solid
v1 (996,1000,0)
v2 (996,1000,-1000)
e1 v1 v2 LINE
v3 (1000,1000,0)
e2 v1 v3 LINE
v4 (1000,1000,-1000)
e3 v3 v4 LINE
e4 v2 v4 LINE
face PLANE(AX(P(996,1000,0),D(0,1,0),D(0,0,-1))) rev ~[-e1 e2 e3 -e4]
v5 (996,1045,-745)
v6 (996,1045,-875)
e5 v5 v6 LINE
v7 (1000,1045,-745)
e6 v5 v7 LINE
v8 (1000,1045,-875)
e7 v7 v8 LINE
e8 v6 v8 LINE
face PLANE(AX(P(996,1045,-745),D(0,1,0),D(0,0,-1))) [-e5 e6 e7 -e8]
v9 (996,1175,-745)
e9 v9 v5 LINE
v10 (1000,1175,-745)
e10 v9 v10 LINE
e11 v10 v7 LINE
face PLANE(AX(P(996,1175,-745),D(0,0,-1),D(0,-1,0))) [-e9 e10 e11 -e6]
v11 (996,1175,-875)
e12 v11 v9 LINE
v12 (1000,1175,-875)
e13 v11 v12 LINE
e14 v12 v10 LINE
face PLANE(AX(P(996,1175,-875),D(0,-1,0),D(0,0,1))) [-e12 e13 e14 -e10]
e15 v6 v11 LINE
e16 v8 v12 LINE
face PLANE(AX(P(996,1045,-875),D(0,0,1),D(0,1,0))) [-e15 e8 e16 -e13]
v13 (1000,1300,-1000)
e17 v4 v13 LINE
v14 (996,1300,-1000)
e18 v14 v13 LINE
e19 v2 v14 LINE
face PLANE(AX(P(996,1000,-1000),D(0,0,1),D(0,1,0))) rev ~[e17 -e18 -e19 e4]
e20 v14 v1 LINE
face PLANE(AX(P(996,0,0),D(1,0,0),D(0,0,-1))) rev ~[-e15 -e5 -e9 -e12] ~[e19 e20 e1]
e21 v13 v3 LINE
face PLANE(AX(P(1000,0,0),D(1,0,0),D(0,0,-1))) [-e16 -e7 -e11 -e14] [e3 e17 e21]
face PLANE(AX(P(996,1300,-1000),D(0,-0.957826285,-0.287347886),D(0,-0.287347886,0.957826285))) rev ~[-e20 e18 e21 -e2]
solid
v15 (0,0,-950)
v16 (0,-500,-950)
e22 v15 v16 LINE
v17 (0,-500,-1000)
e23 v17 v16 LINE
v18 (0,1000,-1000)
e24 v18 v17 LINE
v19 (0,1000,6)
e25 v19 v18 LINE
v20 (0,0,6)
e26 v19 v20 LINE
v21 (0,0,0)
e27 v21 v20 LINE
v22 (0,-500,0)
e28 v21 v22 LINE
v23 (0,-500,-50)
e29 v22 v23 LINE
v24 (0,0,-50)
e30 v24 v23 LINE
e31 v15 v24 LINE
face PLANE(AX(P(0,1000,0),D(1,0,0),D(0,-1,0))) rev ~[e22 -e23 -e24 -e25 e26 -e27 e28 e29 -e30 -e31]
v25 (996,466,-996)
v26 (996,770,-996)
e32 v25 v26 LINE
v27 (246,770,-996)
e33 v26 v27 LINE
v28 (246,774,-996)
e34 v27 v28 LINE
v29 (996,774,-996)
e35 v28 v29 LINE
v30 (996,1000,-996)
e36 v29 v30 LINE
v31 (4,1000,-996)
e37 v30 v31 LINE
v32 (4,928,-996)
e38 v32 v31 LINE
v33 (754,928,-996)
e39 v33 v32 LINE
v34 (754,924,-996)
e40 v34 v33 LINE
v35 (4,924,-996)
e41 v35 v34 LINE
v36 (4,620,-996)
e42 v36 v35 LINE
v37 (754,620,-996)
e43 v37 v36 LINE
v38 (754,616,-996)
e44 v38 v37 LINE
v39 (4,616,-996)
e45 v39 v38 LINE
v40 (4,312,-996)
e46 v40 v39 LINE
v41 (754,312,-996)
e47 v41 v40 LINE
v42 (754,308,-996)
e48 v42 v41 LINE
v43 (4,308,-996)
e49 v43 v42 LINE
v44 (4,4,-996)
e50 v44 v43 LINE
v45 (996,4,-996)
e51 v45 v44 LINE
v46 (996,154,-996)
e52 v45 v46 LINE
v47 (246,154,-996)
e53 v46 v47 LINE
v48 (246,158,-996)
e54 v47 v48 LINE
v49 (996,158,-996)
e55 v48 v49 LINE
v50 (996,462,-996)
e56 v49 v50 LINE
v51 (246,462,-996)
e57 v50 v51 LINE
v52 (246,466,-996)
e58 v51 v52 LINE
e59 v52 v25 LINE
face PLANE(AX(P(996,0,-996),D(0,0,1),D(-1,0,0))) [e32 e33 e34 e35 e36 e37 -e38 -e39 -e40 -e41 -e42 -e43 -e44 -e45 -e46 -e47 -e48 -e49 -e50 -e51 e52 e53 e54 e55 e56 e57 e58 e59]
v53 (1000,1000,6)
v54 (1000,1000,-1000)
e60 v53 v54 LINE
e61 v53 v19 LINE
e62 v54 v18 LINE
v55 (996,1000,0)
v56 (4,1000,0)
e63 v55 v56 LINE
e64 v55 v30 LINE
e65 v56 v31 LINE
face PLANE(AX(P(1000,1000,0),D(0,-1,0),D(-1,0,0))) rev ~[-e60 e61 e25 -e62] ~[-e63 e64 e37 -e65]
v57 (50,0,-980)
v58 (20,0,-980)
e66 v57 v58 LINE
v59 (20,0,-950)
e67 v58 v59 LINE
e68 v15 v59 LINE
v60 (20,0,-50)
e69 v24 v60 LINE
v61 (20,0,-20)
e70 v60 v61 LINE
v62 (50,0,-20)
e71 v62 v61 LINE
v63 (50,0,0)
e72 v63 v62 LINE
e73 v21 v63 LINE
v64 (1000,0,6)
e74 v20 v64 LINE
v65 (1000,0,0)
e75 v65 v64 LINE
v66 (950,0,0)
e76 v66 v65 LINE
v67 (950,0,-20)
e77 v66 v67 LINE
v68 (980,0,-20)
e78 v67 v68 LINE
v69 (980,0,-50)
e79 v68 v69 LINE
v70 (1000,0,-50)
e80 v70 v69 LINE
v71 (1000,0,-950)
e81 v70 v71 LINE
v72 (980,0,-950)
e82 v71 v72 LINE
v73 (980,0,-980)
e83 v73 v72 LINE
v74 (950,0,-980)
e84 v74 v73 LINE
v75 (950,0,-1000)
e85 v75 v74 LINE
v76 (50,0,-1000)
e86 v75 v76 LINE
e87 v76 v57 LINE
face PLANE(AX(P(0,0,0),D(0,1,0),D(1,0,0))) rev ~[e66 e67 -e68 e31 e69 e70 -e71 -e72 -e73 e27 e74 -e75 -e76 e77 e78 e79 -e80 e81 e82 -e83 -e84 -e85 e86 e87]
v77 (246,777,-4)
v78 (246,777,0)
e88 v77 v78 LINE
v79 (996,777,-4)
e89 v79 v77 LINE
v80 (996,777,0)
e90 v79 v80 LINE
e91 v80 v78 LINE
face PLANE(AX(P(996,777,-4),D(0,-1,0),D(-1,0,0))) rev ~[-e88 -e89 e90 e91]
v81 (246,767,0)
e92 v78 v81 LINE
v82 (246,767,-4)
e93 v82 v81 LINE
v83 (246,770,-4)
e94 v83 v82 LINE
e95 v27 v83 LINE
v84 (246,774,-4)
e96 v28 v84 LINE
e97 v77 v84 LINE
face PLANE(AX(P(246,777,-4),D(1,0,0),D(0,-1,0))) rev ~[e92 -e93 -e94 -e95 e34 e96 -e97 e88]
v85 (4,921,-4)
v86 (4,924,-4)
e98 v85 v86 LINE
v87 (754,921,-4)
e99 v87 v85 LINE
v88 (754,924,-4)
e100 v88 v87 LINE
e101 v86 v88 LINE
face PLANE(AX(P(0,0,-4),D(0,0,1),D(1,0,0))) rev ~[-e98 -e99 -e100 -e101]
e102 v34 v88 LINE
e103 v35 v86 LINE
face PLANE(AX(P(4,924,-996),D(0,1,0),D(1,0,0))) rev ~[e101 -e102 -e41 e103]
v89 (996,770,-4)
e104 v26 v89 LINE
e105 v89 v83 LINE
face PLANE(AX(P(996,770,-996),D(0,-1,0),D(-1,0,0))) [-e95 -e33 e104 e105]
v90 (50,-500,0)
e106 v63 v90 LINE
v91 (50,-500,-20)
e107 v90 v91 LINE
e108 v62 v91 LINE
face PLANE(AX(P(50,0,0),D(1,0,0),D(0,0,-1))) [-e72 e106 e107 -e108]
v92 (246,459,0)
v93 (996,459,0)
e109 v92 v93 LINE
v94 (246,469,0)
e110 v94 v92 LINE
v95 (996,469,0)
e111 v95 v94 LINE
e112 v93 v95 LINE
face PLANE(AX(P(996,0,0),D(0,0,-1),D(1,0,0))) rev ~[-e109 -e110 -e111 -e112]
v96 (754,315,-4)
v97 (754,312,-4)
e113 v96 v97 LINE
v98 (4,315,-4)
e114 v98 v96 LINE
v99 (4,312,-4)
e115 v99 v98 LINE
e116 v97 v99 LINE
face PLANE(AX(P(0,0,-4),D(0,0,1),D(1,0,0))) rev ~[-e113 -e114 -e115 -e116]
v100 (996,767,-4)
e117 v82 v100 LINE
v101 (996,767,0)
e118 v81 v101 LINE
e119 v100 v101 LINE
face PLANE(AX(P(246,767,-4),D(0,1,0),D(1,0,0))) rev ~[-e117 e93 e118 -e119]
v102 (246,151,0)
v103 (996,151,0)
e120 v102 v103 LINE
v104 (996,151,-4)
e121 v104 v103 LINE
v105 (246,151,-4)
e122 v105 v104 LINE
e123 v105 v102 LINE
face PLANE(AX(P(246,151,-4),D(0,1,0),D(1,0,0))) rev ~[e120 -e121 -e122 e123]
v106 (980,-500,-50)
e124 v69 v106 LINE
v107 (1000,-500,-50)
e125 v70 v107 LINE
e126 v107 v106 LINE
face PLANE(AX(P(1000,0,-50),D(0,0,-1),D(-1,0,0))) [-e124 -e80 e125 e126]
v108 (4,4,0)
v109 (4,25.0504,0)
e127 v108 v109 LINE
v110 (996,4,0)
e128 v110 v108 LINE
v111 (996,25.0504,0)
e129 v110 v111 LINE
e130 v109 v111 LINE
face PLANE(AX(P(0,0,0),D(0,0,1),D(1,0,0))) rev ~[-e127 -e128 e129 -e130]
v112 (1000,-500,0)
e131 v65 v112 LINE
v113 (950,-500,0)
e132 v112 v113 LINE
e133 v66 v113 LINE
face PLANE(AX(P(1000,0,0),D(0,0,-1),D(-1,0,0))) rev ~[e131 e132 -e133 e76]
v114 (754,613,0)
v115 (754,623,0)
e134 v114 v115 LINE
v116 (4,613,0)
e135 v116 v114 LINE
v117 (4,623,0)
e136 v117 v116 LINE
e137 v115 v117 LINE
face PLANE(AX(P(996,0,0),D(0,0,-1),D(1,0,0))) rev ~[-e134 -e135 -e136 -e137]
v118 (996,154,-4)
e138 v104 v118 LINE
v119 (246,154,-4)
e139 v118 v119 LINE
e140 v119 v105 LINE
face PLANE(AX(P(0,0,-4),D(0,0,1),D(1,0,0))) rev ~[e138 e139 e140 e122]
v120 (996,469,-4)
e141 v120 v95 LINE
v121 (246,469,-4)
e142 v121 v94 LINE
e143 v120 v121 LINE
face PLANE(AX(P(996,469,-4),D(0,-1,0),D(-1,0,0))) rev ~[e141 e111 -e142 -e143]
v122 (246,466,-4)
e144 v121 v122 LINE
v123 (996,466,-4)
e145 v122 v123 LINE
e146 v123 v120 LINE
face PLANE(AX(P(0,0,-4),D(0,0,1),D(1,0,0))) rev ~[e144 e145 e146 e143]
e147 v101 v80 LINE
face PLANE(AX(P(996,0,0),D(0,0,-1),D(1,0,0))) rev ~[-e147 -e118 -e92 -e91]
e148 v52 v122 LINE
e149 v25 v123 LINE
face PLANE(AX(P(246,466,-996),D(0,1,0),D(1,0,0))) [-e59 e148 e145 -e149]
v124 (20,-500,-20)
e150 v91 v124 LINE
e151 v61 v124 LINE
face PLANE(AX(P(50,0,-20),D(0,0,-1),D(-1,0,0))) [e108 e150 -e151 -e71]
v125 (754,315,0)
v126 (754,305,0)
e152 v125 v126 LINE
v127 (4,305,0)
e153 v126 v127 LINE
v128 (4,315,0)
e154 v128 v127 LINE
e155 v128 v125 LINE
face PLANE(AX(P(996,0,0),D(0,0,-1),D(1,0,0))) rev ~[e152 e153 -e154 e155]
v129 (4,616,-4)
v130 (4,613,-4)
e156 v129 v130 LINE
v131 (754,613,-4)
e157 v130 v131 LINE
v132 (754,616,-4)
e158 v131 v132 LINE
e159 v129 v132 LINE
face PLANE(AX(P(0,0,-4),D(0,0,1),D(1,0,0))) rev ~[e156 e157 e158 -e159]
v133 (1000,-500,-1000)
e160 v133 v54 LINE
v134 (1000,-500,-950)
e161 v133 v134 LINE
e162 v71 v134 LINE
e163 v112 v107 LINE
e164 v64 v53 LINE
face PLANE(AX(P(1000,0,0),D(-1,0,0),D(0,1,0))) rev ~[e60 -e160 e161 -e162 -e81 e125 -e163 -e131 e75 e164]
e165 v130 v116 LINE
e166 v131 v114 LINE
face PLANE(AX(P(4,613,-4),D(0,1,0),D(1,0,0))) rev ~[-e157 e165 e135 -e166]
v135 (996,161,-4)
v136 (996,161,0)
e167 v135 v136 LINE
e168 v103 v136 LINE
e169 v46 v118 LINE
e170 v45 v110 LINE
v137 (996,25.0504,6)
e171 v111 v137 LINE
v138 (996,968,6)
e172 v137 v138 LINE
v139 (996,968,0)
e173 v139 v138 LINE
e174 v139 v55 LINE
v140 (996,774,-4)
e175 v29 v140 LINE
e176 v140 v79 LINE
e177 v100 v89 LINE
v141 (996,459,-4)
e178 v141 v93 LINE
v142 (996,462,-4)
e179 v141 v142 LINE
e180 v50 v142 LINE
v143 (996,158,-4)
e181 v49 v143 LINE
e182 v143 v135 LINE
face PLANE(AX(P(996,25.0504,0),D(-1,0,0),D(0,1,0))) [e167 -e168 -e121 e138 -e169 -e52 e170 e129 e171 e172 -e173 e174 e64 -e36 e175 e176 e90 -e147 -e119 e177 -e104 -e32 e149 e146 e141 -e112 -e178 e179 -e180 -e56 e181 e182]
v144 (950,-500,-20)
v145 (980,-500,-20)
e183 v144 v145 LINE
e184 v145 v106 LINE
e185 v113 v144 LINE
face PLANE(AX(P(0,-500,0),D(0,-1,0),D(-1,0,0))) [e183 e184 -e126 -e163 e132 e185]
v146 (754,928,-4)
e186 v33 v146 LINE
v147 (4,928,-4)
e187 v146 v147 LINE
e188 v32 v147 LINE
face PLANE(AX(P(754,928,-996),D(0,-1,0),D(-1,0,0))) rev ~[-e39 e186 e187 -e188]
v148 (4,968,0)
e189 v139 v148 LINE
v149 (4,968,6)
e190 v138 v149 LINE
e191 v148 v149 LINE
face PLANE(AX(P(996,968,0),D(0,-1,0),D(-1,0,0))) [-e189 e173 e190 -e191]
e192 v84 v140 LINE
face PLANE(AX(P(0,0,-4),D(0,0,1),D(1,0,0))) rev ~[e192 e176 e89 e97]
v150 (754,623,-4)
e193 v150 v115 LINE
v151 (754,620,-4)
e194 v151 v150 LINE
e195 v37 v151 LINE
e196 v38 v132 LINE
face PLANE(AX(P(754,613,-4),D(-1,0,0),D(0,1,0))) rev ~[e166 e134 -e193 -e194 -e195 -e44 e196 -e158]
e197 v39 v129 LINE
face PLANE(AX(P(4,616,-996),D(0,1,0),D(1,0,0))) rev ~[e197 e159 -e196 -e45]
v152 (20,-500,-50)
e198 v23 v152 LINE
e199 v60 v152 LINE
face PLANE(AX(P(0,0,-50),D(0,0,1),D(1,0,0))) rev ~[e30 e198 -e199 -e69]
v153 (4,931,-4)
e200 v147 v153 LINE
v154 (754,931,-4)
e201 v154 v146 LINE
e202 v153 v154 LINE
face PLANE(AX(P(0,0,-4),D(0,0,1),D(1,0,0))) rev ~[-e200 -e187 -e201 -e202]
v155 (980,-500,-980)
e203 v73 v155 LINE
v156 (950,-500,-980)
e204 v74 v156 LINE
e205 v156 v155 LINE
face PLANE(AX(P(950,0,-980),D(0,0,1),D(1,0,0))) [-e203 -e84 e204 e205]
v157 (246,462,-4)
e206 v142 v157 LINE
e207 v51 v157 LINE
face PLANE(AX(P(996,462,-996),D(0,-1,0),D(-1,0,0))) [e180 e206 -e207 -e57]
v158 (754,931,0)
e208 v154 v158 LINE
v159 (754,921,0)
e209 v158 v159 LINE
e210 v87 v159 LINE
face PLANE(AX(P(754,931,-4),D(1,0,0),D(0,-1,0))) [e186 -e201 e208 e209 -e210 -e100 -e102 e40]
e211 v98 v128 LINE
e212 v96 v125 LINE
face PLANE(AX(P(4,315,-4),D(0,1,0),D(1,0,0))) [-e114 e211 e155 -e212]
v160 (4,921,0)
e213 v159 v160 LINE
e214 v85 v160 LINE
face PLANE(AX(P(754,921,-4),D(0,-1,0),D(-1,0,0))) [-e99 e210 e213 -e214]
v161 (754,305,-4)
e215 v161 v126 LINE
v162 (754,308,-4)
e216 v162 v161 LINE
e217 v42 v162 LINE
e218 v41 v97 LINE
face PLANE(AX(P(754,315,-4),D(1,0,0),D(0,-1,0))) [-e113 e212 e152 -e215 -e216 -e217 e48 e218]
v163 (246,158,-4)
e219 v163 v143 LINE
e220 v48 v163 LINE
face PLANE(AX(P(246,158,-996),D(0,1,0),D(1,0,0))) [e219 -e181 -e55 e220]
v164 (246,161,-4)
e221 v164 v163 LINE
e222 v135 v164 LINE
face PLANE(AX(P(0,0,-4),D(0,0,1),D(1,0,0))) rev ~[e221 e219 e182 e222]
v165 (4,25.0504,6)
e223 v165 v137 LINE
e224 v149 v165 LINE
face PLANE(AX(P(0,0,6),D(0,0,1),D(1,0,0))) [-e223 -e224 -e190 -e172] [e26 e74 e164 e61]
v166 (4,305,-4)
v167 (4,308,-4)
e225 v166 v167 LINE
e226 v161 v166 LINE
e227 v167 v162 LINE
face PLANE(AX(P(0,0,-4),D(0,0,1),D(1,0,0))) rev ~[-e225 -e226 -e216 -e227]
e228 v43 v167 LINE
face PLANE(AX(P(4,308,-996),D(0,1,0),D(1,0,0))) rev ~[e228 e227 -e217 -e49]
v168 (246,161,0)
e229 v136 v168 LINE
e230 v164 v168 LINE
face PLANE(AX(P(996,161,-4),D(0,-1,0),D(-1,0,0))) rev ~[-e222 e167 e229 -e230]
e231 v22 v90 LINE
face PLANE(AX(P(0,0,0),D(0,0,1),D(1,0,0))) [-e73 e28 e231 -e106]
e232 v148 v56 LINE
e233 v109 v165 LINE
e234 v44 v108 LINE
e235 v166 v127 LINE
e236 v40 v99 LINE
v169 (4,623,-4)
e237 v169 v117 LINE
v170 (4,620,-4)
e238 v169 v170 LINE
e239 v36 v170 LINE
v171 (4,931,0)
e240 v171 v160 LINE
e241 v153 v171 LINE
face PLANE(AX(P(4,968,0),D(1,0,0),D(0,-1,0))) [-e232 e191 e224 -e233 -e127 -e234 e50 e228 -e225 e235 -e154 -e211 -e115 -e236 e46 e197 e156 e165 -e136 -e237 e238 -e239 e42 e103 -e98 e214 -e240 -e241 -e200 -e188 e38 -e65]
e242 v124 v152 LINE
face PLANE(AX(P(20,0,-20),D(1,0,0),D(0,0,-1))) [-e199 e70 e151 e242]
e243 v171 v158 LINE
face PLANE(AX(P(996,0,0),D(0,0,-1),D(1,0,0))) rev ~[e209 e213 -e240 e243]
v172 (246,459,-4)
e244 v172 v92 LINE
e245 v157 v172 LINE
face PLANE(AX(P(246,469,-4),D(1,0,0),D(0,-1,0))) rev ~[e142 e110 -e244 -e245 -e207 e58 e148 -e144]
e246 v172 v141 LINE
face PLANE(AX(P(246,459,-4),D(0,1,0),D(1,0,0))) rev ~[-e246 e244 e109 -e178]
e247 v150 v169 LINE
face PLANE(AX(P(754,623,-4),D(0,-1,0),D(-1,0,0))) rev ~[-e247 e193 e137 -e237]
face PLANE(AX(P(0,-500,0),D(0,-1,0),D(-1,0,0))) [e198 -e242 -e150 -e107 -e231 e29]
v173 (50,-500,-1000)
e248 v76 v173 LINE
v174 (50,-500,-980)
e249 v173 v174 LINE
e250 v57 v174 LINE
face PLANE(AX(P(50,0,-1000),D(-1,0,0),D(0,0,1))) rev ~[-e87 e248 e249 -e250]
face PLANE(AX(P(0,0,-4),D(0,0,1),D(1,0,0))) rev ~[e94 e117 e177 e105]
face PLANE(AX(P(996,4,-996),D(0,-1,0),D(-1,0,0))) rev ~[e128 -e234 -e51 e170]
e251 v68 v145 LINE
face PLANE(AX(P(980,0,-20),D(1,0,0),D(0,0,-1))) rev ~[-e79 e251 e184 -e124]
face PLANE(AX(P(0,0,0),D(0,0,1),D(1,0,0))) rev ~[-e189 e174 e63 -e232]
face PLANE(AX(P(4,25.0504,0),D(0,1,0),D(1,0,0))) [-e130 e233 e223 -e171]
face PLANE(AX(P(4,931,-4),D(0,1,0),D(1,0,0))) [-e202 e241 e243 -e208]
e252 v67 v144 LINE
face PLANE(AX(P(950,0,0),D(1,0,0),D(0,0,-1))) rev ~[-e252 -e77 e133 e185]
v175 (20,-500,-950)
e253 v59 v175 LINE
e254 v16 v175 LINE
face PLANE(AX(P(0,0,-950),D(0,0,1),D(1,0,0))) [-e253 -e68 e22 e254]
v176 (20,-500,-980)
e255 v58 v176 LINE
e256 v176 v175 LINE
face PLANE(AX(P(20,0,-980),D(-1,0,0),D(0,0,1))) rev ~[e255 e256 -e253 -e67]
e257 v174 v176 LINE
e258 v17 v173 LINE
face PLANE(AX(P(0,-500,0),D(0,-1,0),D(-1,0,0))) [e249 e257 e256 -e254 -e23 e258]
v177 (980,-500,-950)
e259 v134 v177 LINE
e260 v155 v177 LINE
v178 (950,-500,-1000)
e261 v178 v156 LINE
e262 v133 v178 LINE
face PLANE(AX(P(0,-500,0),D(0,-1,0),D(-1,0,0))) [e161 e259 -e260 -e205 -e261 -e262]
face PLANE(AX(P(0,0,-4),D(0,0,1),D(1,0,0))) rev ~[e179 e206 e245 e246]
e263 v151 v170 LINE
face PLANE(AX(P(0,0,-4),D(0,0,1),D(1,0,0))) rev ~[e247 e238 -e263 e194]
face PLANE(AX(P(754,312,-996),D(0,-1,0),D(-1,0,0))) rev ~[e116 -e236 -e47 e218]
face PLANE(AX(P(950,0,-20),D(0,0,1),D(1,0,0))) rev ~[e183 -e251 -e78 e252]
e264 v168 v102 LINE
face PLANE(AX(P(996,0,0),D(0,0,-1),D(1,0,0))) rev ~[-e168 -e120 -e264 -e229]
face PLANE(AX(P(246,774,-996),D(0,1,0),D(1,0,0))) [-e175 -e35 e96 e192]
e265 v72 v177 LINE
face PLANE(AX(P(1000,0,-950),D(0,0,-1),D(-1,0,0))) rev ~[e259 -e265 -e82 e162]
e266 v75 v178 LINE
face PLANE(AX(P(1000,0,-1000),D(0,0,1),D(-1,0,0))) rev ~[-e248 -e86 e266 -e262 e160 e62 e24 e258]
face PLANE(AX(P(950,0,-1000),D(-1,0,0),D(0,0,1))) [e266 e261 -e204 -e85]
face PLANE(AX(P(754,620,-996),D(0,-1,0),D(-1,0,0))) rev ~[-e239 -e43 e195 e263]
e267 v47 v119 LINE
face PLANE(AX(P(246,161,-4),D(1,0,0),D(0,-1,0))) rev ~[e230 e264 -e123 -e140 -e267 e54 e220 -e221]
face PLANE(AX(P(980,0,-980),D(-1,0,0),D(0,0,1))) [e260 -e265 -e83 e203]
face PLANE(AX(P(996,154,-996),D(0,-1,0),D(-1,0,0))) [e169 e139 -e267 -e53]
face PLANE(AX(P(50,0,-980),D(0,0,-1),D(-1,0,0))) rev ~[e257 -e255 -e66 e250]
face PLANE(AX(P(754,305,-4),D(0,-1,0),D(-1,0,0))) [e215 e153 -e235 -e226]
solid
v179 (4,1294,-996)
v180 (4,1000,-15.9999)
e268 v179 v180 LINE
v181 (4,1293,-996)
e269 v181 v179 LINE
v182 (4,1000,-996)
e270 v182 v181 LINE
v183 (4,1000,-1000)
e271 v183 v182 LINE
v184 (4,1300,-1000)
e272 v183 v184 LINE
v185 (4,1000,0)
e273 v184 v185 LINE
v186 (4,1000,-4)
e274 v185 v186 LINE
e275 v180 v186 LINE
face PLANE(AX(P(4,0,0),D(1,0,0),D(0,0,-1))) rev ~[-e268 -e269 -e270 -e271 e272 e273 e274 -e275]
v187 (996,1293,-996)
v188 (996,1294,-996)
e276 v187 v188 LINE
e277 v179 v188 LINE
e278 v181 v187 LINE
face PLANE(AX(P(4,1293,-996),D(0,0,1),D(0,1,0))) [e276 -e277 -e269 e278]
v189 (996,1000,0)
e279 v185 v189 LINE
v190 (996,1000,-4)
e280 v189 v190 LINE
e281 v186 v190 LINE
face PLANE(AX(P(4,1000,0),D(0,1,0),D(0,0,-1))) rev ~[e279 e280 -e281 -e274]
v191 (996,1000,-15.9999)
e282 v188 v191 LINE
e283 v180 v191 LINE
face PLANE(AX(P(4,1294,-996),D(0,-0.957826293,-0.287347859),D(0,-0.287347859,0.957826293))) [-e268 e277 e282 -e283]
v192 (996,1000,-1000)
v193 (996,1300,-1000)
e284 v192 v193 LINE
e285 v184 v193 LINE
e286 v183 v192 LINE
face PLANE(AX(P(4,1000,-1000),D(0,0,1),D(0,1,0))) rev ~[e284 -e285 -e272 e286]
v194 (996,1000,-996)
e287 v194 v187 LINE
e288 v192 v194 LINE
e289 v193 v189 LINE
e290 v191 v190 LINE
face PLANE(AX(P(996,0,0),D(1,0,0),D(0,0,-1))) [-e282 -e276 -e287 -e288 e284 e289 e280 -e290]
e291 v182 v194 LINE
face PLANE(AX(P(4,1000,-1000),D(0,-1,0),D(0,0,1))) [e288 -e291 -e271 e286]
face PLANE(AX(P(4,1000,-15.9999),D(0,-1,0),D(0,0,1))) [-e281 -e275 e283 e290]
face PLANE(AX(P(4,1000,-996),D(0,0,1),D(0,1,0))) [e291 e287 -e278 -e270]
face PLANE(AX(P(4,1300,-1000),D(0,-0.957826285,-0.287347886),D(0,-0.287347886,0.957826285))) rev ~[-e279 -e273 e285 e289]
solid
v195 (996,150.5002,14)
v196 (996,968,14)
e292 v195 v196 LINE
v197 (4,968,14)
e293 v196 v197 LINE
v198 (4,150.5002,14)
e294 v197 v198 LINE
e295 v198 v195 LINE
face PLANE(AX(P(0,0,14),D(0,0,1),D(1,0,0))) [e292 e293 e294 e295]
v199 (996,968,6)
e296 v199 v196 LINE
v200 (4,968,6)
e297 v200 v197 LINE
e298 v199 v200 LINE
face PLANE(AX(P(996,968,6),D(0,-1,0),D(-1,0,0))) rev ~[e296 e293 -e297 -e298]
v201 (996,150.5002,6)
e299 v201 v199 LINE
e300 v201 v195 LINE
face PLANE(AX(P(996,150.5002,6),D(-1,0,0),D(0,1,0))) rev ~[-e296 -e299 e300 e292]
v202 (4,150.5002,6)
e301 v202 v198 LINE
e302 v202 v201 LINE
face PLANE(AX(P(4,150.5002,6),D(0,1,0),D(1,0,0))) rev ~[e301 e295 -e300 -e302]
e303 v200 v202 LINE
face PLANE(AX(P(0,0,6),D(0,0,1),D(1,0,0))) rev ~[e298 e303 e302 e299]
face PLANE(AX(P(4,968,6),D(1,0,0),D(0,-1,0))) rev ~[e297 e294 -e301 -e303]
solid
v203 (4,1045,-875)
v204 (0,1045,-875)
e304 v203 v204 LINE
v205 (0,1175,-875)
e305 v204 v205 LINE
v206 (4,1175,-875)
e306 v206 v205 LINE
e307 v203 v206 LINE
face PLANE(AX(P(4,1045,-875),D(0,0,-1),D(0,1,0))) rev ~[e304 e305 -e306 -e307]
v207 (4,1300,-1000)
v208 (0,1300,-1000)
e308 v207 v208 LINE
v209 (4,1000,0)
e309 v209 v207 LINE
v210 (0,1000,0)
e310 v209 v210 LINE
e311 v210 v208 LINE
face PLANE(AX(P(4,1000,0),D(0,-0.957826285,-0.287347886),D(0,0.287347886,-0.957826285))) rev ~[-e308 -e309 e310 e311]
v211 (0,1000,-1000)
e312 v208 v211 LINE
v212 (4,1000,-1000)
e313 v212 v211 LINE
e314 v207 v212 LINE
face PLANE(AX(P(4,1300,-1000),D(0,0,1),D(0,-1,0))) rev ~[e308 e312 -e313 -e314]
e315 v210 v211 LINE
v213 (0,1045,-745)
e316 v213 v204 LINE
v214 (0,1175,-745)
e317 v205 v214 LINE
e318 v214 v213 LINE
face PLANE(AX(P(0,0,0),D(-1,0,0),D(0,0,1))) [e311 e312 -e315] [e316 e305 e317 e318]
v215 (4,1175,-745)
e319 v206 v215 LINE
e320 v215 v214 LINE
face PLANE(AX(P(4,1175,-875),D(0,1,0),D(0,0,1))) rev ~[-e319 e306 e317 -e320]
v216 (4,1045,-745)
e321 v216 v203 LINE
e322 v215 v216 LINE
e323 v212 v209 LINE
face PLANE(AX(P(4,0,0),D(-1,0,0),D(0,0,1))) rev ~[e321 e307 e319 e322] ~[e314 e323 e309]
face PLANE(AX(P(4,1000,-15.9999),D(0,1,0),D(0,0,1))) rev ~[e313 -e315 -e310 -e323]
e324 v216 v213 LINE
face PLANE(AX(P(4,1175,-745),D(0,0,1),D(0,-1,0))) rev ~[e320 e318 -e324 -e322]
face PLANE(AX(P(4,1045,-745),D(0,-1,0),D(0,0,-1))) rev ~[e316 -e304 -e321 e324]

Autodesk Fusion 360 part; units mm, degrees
sketch "Sketch1" plane through (0, 0, 0) normal (0, 1, 0) x (1, 0, 0)
  line L0 (1000, 0) -> (1000, 1000)
  line L1 (1000, 1000) -> (0, 1000)
  line L2 (0, 1000) -> (0, 0)
  line L3 (996, 4) -> (996, 996)
  line L4 (996, 996) -> (4, 996)
  line L5 (4, 996) -> (4, 4)
  line L6 (996, 4) -> (996, 0)
  line L7 (996, 0) -> (1000, 0)
  line L8 (4, 4) -> (4, 0)
  line L9 (4, 0) -> (0, 0)
  dimension "d1" = 1000
  dimension "d2" = 1000
  dimension "d3" = 992
  dimension "d4" = 992
extrude "Extrude1" add sketch "Sketch1" along normal blind 1000 makes body 1
ref_plane "WorkPlane1" through (500, 500, -996) normal (0, 0, 1) x (1, 0, 0)
sketch "Sketch2" plane through (0, 0, -996) normal (0, 0, 1) x (1, 0, 0)
  line L0 (4, 0) -> (996, 0)
  line L1 (996, 0) -> (996, 4)
  line L2 (996, 4) -> (4, 4)
  line L3 (4, 4) -> (4, 0)
  dimension "d8" = 992
  dimension "d9" = 4
extrude "Extrude2" add sketch "Sketch2" along normal blind 996 bodies 1
ref_plane "WorkPlane2" through (500, 502, -996) normal (0, 0, 1) x (1, 0, 0)
sketch "Sketch3" plane through (0, 0, -996) normal (0, 0, 1) x (1, 0, 0)
  line L0 (4, 312) -> (4, 308)
  line L1 (996, 154) -> (246, 154)
  line L2 (246, 154) -> (246, 158)
  line L3 (246, 158) -> (996, 158)
  line L4 (996, 158) -> (996, 154)
  line L5 (754, 308) -> (754, 312)
  line L6 (754, 312) -> (4, 312)
  line L7 (246, 466) -> (996, 466)
  line L8 (246, 462) -> (246, 466)
  line L9 (996, 462) -> (246, 462)
  line L10 (4, 312) -> (4, 308)
  line L11 (4, 308) -> (754, 308)
  line L12 (996, 466) -> (996, 462)
  line L13 (754, 620) -> (4, 620)
  line L14 (996, 774) -> (996, 770)
  line L15 (246, 774) -> (996, 774)
  line L16 (4, 620) -> (4, 616)
  line L17 (4, 620) -> (4, 616)
  line L18 (996, 770) -> (246, 770)
  line L19 (4, 616) -> (754, 616)
  line L20 (754, 616) -> (754, 620)
  line L21 (246, 770) -> (246, 774)
  line L22 (754, 928) -> (4, 928)
  line L23 (754, 924) -> (754, 928)
  line L24 (4, 924) -> (754, 924)
  line L25 (4, 928) -> (4, 924)
  line L26 (4, 928) -> (4, 924)
  dimension "d14" = 4
  dimension "d15" = 750
  dimension "d16" = 4
  dimension "d17" = 750
  dimension "d18" = 4
  dimension "d19" = 750
  dimension "d20" = 4
  dimension "d21" = 750
  dimension "d22" = 4
  dimension "d24" = 4
  dimension "d25" = 750
  dimension "d26" = 4
  dimension "d27" = 750
  dimension "d28" = 4
  dimension "d30" = 4
extrude "Extrude3" add sketch "Sketch3" along normal blind 992 separate body makes body 2 at (496, 466, -665.3333) makes body 3 at (746, 770, -665.3333) makes body 4 at (504, 312, -665.3333) makes body 5 at (254, 616, -665.3333) makes body 6 at (254, 924, -665.3333) makes body 7 at (746, 154, -665.3333)
ref_plane "WorkPlane3" through (4, 502, -498) normal (1, 0, 0) x (0, 0, -1)
sketch "Sketch4" plane through (4, 0, 0) normal (1, 0, 0) x (0, 0, -1)
  line L0 (1000, 1000) -> (1000, 1300)
  line L1 (1000, 1300) -> (0, 1000)
  line L2 (1000, 1000) -> (996, 1000)
  line L3 (0, 1000) -> (4, 1000)
  line L4 (996, 1000) -> (996, 1293)
  line L5 (996, 1293) -> (996, 1294)
  line L6 (996, 1294) -> (15.9999, 1000)
  line L7 (15.9999, 1000) -> (4, 1000)
  dimension "d34" = 300
  dimension "d35" = 4
  dimension "d36" = 4
extrude "Extrude4" add sketch "Sketch4" along normal blind 992 separate body makes body 8
ref_plane "WorkPlane4" through (379, 926, -4) normal (0, 0, 1) x (1, 0, 0)
sketch "Sketch5" plane through (0, 0, -4) normal (0, 0, 1) x (1, 0, 0)
  line L0 (4, 305) -> (4, 315)
  line L1 (996, 161) -> (246, 161)
  line L2 (246, 161) -> (246, 151)
  line L3 (246, 151) -> (996, 151)
  line L4 (996, 151) -> (996, 161)
  line L5 (996, 767) -> (996, 777)
  line L6 (246, 767) -> (996, 767)
  line L7 (996, 777) -> (246, 777)
  line L8 (246, 777) -> (246, 767)
  line L9 (4, 931) -> (754, 931)
  line L10 (754, 921) -> (4, 921)
  line L11 (4, 921) -> (4, 931)
  line L12 (754, 931) -> (754, 921)
  line L13 (996, 469) -> (246, 469)
  line L14 (996, 459) -> (996, 469)
  line L15 (754, 315) -> (754, 305)
  line L16 (754, 305) -> (4, 305)
  line L17 (4, 315) -> (754, 315)
  line L18 (246, 459) -> (996, 459)
  line L19 (246, 469) -> (246, 459)
  line L20 (4, 305) -> (4, 315)
  line L21 (4, 613) -> (754, 613)
  line L22 (754, 613) -> (754, 623)
  line L23 (754, 623) -> (4, 623)
  line L24 (4, 623) -> (4, 613)
  dimension "d41" = 10
  dimension "d42" = 750
  dimension "d43" = 10
  dimension "d44" = 750
  dimension "d45" = 10
  dimension "d46" = 750
  dimension "d47" = 10
  dimension "d48" = 750
  dimension "d49" = 10
  dimension "d50" = 750
  dimension "d51" = 10
  dimension "d52" = 750
  dimension "d53" = 10
extrude "Extrude5" add sketch "Sketch5" along normal blind 4 bodies 1 2 3 4 5 6 7
ref_plane "WorkPlane5" through (996, 1150, -500) normal (1, 0, 0) x (0, 0, -1)
sketch "Sketch6" plane through (996, 0, 0) normal (1, 0, 0) x (0, 0, -1)
  line L0 (875, 1175) -> (745, 1175)
  line L1 (745, 1175) -> (745, 1045)
  line L2 (745, 1045) -> (875, 1045)
  line L3 (875, 1045) -> (875, 1175)
  line L4 (1000, 1000) -> (1000, 1300)
  line L5 (1000, 1300) -> (0, 1000)
  line L6 (0, 1000) -> (1000, 1000)
  dimension "d57" = 130
  dimension "d58" = 130
extrude "Extrude6" add sketch "Sketch6" along normal blind 4 separate body makes body 9
sketch "Sketch7" plane through (4, 0, 0) normal (-1, 0, 0) x (0, 0, 1)
  line L0 (-1000, 1300) -> (-1000, 1000)
  line L1 (-1000, 1000) -> (-996, 1000)
  line L2 (-996, 1000) -> (-996, 1294)
  line L3 (-996, 1294) -> (-15.9999, 1000)
  line L4 (-15.9999, 1000) -> (0, 1000)
  line L5 (0, 1000) -> (-1000, 1300)
  line L6 (-1000, 1300) -> (-1000, 1000)
  line L7 (-1000, 1300) -> (0, 1000)
  line L8 (0, 1000) -> (-1000, 1000)
  line L9 (-875, 1175) -> (-745, 1175)
  line L10 (-745, 1175) -> (-745, 1045)
  line L11 (-745, 1045) -> (-875, 1045)
  line L12 (-875, 1045) -> (-875, 1175)
extrude "Extrude7" add sketch "Sketch7" along normal blind 4 separate body makes body 10
ref_plane "WorkPlane6" through (500, 500, 0) normal (0, 0, 1) x (1, 0, 0)
sketch "Sketch8" plane through (0, 0, 0) normal (0, 0, 1) x (1, 0, 0)
  line L0 (0, 0) -> (1000, 0)
  line L1 (1000, 0) -> (1000, 1000)
  line L2 (1000, 1000) -> (0, 1000)
  line L3 (0, 1000) -> (0, 0)
  line L4 (4, 25.0504) -> (996, 25.0504)
  line L5 (996, 25.0504) -> (996, 968)
  line L6 (996, 968) -> (4, 968)
  line L7 (4, 968) -> (4, 25.0504)
extrude "Extrude8" add sketch "Sketch8" along normal blind 6 separate body makes body 11
ref_plane "WorkPlane7" through (500, 500, 6) normal (0, 0, 1) x (1, 0, 0)
sketch "Sketch9" plane through (0, 0, 6) normal (0, 0, 1) x (1, 0, 0)
  line L0 (4, 150.5002) -> (996, 150.5002)
  line L1 (996, 150.5002) -> (996, 968)
  line L2 (996, 968) -> (4, 968)
  line L3 (4, 968) -> (4, 150.5002)
extrude "Extrude9" add sketch "Sketch9" along normal blind 8 separate body makes body 12
ref_plane "WorkPlane8" through (500, 0, -500) normal (0, -1, 0) x (-1, 0, 0)
sketch "Sketch10" plane through (0, 0, 0) normal (0, -1, 0) x (-1, 0, 0)
  line L0 (0, 0) -> (0, 50)
  line L1 (0, 50) -> (-20, 50)
  line L2 (0, 0) -> (-50, 0)
  line L3 (-50, 0) -> (-50, 20)
  line L4 (-50, 20) -> (-20, 20)
  line L5 (-20, 20) -> (-20, 35)
  line L6 (-1000, 0) -> (-950, 0)
  line L7 (-950, 0) -> (-950, 20)
  line L8 (-1000, 0) -> (-1000, 50)
  line L9 (-1000, 50) -> (-980, 50)
  line L10 (-950, 20) -> (-980, 20)
  line L11 (-980, 20) -> (-980, 50)
  line L12 (-1000, 1000) -> (-1000, 950)
  line L13 (-1000, 950) -> (-980, 950)
  line L14 (-1000, 1000) -> (-950, 1000)
  line L15 (-950, 1000) -> (-950, 980)
  line L16 (-950, 980) -> (-980, 980)
  line L17 (-980, 980) -> (-980, 950)
  line L18 (0, 1000) -> (0, 950)
  line L19 (0, 950) -> (-20, 950)
  line L20 (0, 1000) -> (-50, 1000)
  line L21 (-50, 1000) -> (-50, 980)
  line L22 (-50, 980) -> (-20, 980)
  line L23 (-20, 980) -> (-20, 950)
  line L24 (-20, 35) -> (-20, 50)
  dimension "d70" = 50
  dimension "d71" = 20
  dimension "d72" = 50
  dimension "d73" = 20
  dimension "d74" = 50
  dimension "d75" = 20
  dimension "d76" = 50
  dimension "d77" = 20
  dimension "d78" = 50
  dimension "d79" = 50
  dimension "d80" = 20
extrude "Extrude10" add sketch "Sketch10" along normal blind 500 bodies 1 12 11
